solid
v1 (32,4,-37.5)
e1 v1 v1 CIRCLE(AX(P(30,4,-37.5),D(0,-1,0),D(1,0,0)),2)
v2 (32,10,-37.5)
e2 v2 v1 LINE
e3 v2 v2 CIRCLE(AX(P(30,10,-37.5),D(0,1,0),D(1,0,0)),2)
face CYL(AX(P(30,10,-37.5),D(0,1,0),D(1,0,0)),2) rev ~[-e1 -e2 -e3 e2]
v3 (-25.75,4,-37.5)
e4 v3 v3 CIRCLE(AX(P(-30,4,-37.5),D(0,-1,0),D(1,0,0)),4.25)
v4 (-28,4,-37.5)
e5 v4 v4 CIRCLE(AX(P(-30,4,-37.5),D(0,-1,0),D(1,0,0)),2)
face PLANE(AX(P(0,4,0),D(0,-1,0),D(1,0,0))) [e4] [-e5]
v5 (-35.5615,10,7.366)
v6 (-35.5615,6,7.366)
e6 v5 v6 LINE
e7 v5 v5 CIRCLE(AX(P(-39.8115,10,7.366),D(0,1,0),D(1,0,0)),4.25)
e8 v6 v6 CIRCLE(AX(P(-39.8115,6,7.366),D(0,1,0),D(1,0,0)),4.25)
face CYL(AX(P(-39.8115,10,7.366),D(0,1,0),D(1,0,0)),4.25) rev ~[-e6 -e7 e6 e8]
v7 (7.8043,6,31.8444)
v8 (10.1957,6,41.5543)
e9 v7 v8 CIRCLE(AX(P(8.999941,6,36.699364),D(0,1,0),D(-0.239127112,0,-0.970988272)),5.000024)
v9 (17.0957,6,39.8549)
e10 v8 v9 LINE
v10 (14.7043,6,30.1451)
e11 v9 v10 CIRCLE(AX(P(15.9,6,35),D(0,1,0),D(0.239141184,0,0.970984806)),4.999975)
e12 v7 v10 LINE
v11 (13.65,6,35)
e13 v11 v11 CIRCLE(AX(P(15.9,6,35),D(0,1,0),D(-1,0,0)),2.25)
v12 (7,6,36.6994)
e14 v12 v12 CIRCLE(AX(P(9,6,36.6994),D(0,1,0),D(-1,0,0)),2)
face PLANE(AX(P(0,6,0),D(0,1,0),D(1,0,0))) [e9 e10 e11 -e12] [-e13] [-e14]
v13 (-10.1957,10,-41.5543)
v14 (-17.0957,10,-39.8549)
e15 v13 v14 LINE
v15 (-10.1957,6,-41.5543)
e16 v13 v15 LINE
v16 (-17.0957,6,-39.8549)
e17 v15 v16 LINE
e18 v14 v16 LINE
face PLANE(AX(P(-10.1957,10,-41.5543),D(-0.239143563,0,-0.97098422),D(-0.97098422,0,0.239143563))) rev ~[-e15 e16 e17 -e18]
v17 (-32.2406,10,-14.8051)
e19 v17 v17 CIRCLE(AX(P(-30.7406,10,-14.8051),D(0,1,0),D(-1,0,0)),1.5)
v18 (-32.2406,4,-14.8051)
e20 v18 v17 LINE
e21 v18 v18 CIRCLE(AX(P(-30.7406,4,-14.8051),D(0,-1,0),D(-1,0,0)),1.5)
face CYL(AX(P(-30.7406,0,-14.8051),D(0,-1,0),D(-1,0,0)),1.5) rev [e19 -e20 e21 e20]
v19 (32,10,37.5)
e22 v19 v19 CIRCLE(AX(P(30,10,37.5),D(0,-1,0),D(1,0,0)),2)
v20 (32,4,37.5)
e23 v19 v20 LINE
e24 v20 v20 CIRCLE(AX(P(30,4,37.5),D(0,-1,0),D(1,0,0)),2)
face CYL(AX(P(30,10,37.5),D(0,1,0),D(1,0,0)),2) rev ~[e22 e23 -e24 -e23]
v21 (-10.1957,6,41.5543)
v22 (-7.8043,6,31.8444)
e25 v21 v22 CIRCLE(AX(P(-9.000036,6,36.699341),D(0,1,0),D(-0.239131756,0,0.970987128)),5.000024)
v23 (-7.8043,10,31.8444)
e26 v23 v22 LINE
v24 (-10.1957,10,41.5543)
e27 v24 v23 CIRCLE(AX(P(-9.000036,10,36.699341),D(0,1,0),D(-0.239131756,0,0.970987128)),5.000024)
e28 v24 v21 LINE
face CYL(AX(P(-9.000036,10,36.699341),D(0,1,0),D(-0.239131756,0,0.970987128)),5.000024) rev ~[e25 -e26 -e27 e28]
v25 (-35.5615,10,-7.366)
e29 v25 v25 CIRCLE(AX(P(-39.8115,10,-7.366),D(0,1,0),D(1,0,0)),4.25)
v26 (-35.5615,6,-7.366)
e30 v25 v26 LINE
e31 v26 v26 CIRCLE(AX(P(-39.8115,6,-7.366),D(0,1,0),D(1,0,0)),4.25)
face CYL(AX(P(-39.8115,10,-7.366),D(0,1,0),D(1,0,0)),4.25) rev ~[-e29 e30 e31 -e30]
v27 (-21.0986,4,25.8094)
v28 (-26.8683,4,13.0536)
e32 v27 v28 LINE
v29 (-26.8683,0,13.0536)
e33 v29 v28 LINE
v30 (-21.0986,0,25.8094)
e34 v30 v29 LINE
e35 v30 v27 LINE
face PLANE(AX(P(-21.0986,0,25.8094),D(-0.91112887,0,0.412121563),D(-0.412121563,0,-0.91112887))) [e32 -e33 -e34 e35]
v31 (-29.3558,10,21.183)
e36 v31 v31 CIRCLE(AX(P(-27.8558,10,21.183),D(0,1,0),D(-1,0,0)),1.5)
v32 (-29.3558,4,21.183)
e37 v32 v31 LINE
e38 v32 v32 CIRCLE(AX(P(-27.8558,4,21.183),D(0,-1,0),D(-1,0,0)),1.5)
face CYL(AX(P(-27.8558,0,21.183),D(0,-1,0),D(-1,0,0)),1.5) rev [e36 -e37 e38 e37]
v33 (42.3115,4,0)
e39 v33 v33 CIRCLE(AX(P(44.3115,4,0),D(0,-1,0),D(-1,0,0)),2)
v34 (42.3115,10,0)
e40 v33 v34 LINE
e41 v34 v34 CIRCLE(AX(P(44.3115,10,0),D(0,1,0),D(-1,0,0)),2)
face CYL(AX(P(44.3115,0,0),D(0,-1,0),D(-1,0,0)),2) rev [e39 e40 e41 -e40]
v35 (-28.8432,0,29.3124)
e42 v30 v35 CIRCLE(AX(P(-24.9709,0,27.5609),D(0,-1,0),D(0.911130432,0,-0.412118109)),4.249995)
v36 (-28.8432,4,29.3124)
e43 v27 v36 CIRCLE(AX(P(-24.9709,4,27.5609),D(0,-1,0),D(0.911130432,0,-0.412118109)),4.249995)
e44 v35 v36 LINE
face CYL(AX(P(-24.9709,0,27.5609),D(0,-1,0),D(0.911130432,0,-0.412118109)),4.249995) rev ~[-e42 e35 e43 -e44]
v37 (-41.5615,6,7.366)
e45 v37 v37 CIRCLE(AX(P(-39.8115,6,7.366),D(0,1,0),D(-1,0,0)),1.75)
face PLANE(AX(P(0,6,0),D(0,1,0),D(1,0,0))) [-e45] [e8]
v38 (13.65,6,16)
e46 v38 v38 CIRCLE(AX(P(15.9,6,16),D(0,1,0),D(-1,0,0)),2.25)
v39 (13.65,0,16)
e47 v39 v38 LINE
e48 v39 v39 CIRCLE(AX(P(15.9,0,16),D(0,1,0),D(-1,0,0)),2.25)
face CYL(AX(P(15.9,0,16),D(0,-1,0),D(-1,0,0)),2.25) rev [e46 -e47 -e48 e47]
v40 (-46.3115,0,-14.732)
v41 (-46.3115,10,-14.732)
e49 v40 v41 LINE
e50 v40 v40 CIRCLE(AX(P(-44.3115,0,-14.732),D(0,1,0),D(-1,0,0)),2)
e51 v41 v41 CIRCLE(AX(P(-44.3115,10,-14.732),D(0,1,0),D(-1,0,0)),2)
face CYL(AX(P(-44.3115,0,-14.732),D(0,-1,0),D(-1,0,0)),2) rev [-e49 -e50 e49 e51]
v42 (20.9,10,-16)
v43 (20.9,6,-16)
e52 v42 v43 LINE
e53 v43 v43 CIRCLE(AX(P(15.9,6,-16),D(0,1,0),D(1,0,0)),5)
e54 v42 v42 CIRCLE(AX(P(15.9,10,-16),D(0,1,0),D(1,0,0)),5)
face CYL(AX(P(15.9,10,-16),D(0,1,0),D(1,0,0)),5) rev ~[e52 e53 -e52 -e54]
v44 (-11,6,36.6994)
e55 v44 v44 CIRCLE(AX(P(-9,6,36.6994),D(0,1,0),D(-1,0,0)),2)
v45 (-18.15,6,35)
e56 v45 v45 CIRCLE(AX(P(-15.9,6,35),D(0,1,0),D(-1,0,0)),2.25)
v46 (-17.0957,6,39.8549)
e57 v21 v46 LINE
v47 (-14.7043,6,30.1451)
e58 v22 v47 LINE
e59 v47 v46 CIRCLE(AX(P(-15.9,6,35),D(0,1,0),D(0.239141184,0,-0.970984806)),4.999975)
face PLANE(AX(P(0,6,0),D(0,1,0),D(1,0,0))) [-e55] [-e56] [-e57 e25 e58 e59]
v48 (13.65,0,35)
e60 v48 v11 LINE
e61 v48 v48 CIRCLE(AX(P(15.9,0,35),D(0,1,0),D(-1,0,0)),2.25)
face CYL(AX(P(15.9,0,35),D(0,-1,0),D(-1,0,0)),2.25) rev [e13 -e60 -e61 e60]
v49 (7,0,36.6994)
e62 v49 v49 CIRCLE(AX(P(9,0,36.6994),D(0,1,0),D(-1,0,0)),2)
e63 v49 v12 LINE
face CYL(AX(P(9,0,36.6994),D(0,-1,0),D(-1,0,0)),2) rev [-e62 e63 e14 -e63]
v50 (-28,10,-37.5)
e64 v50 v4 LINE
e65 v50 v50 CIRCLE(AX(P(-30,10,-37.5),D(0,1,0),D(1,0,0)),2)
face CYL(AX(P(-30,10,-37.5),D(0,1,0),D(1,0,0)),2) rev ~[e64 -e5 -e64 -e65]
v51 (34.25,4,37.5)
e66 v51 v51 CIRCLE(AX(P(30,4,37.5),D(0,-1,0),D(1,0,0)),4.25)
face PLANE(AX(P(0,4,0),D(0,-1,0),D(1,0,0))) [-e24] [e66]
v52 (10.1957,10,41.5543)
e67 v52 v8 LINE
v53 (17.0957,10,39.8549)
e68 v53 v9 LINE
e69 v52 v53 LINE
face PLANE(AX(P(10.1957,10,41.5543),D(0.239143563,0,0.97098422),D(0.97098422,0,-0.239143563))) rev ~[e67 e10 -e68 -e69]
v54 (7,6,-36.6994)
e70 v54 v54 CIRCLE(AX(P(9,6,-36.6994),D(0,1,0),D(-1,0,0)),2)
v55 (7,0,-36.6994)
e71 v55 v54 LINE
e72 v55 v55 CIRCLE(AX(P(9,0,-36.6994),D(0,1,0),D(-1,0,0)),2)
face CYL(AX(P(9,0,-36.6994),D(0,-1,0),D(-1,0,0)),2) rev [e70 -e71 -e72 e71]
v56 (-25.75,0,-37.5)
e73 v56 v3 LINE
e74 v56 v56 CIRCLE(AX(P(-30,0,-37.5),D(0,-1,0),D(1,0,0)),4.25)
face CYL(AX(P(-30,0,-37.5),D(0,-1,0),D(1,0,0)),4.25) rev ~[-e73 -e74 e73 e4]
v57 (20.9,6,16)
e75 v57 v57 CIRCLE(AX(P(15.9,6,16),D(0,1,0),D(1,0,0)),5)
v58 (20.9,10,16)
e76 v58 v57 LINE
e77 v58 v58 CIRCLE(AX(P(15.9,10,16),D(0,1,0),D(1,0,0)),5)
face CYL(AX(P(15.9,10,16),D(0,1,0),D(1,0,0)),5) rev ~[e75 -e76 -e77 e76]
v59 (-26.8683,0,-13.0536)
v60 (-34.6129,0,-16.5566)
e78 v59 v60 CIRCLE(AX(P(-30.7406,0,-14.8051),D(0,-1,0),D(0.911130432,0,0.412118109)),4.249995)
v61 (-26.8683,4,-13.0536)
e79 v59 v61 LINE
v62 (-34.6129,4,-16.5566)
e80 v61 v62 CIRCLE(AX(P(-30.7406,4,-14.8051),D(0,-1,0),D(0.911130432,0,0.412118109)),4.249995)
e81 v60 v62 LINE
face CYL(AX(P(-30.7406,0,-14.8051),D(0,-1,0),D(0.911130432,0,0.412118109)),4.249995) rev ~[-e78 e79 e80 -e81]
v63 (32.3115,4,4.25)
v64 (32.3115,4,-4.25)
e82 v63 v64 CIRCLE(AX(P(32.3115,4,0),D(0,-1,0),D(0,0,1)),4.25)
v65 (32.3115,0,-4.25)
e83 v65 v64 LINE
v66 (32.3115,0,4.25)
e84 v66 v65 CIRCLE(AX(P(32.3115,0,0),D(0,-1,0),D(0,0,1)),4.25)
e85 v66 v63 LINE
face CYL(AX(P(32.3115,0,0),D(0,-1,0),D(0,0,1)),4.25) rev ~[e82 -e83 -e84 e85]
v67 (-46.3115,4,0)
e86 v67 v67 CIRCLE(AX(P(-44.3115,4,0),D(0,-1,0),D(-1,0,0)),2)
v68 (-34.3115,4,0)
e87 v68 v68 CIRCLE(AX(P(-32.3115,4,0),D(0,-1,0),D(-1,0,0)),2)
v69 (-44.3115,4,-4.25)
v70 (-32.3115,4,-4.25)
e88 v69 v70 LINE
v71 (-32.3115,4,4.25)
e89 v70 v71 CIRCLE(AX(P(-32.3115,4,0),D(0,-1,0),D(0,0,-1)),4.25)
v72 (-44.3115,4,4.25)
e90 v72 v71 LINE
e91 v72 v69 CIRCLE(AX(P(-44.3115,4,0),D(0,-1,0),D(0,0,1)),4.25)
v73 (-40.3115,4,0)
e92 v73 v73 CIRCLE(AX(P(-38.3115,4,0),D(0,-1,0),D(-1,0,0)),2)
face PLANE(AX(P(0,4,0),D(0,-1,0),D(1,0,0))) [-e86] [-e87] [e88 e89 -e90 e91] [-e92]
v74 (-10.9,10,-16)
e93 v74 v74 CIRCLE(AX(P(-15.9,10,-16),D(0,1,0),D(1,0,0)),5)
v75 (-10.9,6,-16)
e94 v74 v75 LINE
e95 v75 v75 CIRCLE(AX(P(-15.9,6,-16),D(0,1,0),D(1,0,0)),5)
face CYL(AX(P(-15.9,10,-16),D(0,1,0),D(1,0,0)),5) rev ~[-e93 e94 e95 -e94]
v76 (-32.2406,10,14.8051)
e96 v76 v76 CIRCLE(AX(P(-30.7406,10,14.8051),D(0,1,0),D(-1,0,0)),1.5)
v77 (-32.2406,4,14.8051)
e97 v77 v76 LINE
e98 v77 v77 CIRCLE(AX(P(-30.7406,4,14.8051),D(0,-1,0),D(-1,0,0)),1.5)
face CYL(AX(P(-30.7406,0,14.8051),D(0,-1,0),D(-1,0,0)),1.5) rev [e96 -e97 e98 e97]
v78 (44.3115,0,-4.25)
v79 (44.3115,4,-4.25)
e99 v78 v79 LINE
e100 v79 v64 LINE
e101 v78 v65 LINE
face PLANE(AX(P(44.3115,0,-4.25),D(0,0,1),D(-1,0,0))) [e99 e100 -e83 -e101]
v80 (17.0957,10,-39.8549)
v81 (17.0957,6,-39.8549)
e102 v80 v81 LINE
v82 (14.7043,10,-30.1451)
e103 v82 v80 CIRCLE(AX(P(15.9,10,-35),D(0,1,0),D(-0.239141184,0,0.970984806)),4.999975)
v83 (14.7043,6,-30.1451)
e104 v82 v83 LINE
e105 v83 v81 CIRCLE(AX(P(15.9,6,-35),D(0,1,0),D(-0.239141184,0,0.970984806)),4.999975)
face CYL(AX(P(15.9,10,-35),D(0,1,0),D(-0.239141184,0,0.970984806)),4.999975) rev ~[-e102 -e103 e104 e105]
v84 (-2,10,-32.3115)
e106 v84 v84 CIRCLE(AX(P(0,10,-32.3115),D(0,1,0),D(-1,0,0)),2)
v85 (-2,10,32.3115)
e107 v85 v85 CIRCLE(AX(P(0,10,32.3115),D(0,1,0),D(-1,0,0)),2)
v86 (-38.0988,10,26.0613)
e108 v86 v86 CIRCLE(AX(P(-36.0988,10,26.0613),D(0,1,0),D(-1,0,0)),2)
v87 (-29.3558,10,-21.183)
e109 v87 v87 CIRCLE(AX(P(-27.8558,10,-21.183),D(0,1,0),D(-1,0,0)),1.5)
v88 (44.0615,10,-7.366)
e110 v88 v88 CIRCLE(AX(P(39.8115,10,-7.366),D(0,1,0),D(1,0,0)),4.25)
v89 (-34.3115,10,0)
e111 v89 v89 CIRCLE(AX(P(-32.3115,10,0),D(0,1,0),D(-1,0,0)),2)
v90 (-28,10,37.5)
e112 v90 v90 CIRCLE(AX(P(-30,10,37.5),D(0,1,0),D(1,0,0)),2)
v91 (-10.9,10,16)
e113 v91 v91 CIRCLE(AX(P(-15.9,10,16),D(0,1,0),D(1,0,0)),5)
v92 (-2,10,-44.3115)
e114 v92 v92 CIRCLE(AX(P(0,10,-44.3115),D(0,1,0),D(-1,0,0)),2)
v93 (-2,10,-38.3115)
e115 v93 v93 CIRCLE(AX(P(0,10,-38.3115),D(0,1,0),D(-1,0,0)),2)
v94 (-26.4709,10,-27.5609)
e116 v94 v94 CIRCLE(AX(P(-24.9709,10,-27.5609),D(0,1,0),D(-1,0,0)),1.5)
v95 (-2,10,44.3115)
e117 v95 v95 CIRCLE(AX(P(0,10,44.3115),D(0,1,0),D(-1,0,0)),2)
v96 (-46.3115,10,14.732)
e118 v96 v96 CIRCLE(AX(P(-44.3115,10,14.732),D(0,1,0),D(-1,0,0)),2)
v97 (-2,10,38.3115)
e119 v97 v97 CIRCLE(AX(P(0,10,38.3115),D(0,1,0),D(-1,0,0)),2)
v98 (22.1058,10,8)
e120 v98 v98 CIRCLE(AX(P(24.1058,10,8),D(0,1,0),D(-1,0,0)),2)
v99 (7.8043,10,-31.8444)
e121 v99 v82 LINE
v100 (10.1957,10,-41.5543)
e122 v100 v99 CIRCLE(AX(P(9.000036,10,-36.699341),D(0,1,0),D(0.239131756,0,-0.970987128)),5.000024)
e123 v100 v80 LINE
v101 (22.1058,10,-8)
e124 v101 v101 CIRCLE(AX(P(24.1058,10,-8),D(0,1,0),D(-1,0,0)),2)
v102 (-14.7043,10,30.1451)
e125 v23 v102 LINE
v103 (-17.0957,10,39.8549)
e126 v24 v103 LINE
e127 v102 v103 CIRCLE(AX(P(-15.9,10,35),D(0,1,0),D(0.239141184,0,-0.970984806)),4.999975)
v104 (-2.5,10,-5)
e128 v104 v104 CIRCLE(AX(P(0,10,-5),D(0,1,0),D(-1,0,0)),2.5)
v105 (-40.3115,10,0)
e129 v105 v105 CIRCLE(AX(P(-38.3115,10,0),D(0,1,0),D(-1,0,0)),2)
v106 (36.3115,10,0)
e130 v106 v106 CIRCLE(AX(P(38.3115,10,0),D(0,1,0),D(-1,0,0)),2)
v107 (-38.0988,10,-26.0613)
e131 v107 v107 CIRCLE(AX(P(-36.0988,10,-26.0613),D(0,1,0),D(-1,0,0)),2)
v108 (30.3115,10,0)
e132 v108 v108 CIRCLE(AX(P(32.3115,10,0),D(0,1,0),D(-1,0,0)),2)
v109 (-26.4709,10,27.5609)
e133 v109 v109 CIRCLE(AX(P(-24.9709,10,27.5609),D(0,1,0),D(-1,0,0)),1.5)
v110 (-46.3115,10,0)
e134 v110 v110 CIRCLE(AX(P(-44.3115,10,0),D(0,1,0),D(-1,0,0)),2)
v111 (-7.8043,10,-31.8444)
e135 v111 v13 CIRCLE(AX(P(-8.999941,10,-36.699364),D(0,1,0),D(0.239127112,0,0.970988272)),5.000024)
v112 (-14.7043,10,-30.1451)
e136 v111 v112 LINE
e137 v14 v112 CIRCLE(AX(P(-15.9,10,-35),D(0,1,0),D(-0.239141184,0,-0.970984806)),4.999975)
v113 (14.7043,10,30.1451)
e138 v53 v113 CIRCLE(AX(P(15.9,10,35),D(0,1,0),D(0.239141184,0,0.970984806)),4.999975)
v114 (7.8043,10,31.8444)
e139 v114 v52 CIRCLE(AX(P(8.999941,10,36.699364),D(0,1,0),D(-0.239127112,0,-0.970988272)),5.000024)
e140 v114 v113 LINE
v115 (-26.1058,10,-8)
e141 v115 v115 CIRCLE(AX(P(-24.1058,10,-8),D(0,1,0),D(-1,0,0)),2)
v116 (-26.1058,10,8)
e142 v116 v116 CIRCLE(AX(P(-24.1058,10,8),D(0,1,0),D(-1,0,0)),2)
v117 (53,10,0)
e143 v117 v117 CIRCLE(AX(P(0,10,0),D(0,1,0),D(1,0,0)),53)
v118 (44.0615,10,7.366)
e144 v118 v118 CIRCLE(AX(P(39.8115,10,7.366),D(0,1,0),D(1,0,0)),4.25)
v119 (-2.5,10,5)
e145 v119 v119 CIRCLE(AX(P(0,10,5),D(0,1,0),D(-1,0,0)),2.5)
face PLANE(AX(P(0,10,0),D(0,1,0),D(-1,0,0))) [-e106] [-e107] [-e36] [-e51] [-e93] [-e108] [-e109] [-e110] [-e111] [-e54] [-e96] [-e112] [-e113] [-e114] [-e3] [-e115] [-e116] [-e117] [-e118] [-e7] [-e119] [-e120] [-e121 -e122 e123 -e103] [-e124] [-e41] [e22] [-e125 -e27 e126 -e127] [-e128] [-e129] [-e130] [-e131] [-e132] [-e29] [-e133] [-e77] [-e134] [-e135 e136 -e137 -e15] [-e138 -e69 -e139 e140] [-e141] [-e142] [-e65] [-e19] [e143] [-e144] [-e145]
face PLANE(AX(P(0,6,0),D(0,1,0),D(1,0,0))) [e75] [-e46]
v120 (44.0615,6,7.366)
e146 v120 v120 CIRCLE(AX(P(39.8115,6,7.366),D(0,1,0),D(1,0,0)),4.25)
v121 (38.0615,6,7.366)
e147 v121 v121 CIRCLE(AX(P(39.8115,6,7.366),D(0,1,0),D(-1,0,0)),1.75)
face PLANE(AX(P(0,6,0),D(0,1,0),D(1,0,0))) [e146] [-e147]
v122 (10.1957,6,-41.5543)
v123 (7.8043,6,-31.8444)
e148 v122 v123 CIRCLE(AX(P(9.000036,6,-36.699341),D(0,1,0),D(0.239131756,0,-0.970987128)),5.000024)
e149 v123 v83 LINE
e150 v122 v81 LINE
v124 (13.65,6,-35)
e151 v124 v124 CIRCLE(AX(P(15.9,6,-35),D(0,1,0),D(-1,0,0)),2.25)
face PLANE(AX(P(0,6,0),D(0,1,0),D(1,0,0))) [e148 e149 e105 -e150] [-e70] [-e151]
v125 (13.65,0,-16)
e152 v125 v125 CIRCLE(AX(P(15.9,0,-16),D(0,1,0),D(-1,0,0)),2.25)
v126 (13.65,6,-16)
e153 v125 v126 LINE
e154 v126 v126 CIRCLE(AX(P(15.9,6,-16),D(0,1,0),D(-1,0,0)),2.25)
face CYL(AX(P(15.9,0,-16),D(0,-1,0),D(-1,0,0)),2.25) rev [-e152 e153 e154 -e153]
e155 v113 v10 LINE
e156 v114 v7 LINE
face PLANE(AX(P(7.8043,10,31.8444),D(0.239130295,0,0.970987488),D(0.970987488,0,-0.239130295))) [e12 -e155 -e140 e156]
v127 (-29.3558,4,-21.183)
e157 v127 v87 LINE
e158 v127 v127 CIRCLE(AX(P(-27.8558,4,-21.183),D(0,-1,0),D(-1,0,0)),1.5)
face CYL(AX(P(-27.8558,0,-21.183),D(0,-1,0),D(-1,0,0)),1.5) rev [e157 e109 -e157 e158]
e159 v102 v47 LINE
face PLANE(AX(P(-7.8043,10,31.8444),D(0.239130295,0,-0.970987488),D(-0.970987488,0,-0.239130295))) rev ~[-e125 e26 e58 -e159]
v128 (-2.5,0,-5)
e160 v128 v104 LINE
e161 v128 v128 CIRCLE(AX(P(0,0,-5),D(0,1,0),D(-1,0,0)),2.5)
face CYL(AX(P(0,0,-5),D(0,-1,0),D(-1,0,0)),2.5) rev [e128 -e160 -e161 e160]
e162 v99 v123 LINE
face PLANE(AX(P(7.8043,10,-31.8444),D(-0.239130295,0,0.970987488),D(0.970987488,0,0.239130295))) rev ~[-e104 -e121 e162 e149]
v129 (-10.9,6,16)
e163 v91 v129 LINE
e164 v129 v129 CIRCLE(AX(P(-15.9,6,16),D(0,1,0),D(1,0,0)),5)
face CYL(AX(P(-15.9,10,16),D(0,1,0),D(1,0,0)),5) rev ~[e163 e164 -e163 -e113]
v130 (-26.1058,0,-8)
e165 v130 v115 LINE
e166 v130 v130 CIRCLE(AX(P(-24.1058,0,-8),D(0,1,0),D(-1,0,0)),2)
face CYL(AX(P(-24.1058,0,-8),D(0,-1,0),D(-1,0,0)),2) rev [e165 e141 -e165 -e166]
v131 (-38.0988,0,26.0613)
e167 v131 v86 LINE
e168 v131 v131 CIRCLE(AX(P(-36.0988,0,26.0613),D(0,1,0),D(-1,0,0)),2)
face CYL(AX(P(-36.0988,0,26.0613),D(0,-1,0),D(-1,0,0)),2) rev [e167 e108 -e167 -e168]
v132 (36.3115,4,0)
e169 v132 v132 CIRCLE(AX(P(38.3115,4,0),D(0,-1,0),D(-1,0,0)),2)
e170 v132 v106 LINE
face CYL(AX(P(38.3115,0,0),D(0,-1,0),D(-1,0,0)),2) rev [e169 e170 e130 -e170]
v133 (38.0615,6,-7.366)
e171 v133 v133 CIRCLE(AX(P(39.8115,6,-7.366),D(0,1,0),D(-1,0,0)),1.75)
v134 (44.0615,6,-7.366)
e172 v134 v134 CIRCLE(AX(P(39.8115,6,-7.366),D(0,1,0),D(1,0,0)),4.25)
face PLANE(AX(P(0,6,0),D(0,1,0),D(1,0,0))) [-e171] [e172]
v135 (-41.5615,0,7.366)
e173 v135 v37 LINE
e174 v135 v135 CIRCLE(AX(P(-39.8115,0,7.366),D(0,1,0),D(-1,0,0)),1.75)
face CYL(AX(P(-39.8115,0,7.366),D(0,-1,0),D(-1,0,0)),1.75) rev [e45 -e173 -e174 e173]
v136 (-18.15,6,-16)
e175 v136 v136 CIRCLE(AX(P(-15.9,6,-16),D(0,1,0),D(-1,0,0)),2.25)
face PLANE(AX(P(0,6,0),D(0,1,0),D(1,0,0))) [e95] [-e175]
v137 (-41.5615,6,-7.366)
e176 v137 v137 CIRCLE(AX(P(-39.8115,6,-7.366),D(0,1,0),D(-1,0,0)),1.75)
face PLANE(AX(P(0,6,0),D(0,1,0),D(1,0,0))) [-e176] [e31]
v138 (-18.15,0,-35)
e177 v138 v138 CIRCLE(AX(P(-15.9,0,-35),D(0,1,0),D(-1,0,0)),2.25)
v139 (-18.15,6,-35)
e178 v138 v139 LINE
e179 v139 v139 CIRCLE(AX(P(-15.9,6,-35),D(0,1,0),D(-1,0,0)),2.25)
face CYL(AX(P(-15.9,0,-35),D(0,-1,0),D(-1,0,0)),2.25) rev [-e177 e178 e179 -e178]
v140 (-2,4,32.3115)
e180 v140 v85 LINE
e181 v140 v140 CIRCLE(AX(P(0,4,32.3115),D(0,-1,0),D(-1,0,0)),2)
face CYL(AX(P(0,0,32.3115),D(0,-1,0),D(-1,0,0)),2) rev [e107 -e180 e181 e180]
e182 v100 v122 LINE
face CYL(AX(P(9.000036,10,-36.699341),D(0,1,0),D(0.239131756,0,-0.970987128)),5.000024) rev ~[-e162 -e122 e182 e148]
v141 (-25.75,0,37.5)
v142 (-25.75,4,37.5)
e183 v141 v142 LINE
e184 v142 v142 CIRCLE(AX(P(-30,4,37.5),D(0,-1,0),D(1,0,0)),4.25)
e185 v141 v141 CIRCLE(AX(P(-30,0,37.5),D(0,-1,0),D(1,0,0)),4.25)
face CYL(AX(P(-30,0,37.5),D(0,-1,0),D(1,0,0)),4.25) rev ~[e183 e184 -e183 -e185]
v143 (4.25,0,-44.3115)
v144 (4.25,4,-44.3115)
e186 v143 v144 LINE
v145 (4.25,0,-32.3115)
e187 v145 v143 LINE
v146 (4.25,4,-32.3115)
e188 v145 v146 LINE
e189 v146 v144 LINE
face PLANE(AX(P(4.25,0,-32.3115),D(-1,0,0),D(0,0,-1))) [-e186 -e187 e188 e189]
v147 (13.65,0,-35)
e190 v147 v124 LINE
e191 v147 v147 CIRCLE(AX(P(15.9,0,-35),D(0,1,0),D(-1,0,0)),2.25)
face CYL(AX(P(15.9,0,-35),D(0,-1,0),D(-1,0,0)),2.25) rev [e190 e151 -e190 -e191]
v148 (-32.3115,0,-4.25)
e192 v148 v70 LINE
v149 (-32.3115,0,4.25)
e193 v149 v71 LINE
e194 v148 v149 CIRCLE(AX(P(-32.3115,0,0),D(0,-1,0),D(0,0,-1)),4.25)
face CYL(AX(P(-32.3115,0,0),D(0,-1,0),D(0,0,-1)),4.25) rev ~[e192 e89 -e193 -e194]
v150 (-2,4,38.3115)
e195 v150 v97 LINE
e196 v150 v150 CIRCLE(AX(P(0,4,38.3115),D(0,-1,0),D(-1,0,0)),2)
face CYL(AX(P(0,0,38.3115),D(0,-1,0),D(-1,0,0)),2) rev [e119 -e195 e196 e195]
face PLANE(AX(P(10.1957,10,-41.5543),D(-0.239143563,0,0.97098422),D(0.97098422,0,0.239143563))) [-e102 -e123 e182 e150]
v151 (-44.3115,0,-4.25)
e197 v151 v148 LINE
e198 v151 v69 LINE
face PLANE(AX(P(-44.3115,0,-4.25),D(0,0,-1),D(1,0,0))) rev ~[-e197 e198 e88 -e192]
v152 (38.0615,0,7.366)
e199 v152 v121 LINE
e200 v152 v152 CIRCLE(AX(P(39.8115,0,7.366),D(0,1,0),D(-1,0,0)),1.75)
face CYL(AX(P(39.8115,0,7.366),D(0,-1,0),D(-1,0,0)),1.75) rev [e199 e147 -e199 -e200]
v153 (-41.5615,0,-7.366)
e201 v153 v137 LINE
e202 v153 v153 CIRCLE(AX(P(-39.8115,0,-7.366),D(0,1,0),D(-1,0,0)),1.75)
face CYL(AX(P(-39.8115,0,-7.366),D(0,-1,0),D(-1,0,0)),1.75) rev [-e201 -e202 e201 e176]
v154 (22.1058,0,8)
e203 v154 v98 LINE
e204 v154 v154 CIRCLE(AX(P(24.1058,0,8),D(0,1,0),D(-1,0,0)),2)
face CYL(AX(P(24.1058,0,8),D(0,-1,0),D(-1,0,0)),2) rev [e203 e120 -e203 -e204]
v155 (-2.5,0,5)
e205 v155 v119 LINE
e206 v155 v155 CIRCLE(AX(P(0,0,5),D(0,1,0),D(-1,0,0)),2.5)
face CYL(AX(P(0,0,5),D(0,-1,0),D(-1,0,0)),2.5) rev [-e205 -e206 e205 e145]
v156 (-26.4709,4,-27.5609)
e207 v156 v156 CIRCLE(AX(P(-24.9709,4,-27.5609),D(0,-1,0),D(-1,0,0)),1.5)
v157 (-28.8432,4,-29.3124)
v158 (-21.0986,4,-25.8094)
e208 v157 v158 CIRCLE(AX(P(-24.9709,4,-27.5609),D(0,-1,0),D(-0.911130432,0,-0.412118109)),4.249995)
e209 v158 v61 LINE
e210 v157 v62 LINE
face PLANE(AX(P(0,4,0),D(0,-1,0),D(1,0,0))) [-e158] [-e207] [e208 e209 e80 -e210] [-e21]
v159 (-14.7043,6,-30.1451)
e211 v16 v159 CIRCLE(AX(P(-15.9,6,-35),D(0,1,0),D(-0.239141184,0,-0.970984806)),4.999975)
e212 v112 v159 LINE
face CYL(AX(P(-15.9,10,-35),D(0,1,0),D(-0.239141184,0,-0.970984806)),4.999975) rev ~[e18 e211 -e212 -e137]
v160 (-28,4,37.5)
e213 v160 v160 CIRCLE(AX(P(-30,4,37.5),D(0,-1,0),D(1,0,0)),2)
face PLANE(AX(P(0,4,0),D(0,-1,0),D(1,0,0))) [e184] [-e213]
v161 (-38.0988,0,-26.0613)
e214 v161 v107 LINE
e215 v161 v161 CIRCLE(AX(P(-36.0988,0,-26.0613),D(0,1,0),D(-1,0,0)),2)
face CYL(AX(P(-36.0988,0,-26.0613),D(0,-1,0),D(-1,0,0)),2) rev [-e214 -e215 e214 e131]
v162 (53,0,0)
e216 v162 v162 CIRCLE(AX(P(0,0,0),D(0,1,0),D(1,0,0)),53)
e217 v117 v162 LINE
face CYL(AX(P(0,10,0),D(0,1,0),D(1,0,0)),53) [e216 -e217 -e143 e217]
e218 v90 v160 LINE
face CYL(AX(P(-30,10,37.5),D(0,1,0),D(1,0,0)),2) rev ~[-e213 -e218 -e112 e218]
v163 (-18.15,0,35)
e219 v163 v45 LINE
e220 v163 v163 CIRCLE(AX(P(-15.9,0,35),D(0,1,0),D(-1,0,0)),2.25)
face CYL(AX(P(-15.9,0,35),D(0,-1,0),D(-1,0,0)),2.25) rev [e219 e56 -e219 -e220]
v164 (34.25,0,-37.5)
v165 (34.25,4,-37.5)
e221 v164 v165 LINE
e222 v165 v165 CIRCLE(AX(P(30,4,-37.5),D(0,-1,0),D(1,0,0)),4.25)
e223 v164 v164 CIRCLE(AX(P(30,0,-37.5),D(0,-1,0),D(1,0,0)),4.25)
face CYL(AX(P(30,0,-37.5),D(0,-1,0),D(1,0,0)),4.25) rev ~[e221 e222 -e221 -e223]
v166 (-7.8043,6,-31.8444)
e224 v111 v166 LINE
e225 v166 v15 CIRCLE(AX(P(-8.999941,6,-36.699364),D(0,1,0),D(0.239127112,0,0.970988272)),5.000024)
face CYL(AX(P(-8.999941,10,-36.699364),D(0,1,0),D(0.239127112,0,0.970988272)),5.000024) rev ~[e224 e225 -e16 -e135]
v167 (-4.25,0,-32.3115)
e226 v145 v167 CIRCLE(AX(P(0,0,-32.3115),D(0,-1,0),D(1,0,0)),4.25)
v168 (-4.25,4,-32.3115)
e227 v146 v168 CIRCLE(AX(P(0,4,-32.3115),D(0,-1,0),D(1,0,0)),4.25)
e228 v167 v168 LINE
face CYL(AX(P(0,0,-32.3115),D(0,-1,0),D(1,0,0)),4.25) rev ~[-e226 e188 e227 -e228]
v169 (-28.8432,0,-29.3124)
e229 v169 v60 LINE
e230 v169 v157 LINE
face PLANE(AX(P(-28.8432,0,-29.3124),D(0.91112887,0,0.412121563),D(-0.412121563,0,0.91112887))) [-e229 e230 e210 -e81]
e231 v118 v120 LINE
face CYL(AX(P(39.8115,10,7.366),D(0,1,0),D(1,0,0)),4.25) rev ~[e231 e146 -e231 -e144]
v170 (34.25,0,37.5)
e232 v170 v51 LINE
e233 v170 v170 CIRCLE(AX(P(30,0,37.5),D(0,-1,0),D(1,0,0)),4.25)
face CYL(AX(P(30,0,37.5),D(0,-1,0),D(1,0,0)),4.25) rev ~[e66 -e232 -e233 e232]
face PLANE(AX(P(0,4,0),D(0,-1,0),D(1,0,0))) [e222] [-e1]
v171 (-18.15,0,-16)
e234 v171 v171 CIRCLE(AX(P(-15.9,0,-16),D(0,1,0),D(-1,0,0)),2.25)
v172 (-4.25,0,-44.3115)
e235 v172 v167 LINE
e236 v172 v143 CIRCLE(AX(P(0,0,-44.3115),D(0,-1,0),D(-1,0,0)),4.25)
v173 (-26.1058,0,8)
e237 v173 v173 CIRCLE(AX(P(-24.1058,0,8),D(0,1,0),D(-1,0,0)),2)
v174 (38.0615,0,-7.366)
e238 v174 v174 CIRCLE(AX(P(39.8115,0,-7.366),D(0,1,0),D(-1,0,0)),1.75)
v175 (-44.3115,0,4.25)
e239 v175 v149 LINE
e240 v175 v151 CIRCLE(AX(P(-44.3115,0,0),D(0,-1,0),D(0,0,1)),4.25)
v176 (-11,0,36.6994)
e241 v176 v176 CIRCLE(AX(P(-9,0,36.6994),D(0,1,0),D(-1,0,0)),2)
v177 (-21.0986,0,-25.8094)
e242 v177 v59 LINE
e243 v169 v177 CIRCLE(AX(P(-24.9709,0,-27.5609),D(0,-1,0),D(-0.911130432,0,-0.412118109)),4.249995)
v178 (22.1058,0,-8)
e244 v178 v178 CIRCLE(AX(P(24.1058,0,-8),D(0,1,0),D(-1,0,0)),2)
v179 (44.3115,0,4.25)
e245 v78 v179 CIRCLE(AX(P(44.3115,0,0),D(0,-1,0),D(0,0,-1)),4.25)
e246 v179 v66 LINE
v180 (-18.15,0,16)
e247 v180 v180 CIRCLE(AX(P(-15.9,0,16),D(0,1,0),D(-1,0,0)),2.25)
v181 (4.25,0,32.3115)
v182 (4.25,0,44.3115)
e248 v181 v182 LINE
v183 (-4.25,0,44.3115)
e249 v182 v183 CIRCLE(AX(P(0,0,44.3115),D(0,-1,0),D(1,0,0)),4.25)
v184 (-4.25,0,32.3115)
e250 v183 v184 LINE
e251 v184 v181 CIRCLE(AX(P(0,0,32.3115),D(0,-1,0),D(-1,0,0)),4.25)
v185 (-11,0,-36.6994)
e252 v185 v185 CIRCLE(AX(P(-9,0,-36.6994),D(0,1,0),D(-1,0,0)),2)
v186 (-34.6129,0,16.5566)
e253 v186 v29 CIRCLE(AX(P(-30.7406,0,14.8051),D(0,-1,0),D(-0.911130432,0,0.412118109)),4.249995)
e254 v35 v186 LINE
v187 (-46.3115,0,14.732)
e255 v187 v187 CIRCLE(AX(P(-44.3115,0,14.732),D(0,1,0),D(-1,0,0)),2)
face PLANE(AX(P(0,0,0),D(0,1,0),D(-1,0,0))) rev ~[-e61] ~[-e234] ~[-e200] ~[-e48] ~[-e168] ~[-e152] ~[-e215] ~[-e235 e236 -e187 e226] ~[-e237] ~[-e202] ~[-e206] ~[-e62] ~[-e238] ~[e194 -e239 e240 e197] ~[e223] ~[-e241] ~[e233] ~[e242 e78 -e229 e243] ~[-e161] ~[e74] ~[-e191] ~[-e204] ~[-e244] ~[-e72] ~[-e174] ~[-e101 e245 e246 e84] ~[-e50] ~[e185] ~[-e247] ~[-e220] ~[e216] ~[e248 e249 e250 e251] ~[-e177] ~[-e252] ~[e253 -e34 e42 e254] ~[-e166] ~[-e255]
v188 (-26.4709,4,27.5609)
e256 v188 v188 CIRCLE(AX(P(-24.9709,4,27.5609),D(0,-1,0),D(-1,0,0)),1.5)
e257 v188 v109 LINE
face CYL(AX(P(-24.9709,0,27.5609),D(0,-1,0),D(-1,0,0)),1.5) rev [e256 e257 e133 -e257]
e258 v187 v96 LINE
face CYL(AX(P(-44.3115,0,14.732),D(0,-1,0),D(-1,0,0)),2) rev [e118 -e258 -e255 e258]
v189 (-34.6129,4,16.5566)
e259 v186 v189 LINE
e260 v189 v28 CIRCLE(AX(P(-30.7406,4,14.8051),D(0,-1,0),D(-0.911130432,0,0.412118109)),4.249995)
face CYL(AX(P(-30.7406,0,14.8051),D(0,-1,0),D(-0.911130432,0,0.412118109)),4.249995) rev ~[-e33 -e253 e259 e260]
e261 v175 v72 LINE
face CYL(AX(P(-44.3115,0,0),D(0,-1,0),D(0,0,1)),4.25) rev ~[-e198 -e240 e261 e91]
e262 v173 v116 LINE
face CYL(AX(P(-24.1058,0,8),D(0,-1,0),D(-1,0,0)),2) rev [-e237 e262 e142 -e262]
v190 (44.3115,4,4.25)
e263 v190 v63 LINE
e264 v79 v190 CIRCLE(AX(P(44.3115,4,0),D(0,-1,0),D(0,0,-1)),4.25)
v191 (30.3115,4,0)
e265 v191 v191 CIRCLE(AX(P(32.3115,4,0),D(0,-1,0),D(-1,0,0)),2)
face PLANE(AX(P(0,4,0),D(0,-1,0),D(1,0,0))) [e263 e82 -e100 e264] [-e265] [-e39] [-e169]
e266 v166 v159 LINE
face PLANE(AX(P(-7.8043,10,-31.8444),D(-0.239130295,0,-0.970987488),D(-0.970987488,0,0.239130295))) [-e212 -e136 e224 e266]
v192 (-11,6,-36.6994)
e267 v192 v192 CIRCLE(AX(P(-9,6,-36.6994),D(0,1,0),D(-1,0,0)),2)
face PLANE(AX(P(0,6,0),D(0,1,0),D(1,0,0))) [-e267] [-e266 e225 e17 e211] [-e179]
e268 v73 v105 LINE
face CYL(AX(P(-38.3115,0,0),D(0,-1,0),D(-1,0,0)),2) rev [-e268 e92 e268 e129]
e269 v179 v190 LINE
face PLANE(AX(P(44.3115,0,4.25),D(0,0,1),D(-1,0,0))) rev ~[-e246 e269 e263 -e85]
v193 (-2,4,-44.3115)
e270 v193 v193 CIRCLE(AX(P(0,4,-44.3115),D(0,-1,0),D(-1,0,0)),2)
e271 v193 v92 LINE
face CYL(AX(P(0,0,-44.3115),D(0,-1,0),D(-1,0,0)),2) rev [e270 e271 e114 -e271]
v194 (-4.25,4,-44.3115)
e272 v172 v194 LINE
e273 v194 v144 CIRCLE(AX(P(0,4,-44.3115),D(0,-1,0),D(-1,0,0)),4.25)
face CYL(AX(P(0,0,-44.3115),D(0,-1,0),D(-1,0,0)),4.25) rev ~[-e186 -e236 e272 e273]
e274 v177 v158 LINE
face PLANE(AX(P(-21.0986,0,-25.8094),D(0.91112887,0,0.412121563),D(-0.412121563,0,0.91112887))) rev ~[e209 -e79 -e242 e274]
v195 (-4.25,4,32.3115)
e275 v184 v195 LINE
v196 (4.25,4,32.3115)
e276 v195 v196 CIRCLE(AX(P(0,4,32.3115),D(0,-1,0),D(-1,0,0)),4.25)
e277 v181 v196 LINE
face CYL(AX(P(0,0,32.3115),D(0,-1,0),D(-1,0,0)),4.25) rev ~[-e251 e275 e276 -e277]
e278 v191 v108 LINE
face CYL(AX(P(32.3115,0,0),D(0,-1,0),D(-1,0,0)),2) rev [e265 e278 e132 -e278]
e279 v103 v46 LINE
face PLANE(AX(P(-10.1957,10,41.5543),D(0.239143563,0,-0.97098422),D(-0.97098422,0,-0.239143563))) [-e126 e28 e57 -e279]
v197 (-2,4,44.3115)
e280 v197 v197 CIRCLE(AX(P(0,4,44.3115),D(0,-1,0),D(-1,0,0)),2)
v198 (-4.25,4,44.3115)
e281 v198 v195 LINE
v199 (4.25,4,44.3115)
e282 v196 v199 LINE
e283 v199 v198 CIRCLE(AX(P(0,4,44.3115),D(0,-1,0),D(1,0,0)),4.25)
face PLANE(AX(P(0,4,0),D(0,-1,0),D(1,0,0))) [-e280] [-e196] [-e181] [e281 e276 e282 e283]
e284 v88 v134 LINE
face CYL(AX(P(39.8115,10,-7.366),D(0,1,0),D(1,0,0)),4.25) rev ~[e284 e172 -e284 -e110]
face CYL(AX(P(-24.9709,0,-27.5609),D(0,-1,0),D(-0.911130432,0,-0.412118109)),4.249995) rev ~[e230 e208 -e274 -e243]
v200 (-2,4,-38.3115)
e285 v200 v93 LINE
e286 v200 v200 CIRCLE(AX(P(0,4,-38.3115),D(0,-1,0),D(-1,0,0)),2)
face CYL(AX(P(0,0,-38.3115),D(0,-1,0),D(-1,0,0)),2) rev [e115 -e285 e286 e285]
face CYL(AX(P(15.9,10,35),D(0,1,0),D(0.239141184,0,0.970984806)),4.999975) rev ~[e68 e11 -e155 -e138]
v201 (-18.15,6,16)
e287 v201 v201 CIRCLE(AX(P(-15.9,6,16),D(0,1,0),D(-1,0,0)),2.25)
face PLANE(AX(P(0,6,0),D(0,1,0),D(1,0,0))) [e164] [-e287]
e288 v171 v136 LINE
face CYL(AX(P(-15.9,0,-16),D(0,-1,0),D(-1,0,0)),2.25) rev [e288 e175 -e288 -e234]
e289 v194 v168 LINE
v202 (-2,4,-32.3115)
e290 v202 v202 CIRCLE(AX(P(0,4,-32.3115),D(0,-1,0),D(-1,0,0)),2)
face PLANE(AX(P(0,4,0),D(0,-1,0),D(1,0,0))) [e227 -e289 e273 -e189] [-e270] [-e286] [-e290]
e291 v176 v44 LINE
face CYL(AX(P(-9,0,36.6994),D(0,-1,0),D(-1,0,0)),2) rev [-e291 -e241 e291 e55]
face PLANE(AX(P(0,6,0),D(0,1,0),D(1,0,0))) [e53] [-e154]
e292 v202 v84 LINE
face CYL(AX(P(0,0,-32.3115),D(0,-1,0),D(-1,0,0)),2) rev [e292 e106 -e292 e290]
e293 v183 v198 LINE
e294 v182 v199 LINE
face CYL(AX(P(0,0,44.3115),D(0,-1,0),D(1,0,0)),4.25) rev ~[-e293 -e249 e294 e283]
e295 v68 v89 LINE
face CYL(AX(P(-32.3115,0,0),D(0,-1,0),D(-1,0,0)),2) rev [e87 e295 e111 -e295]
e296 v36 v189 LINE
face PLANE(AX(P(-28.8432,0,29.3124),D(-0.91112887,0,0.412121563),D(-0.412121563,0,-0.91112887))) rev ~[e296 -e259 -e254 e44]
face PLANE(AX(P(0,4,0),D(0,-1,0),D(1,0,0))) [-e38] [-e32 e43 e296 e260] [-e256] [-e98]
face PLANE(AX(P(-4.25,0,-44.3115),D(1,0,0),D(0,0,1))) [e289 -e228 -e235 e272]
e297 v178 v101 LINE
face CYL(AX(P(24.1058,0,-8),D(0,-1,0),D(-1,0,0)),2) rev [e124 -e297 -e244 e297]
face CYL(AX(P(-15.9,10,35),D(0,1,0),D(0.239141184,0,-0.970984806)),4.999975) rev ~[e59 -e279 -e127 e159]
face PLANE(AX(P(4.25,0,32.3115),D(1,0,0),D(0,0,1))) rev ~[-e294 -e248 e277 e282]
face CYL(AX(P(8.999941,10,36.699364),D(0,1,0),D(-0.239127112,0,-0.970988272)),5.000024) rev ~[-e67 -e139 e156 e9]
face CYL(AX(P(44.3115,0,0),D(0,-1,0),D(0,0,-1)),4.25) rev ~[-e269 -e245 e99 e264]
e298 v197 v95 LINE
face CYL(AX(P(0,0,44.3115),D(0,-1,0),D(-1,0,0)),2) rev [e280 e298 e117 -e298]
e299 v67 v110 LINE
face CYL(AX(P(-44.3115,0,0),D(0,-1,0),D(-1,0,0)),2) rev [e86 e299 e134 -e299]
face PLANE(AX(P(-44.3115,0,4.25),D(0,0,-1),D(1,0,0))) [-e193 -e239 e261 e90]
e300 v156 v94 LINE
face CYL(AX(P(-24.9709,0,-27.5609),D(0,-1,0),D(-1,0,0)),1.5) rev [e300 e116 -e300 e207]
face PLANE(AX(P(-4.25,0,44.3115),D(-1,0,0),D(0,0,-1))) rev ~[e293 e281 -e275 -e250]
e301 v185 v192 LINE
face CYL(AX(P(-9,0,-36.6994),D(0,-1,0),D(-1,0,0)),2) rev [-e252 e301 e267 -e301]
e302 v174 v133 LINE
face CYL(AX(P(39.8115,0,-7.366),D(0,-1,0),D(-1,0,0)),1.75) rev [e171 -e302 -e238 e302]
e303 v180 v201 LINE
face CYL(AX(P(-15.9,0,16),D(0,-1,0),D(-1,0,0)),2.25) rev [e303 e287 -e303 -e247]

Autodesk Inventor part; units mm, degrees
ref_plane "YZ Plane" through (0, 0, 0) normal (1, 0, 0) x (0, 1, 0)
ref_plane "XZ Plane" through (0, 0, 0) normal (0, 1, 0) x (-1, 0, 0)
ref_plane "XY Plane" through (0, 0, 0) normal (0, 0, 1) x (1, 0, 0)
sketch "Sketch1" plane through (0, 0, 0) normal (0, 1, 0) x (-1, 0, 0)
  circle A0 centre (15.9, 35) radius 2.25
  circle A1 centre (-15.9, 35) radius 2.25
  circle A2 centre (15.9, 16) radius 2.25
  circle A3 centre (-15.9, 16) radius 2.25
  circle A4 centre (0, 0) radius 50.3115
  circle A5 centre (15.9, -35) radius 2.25
  circle A6 centre (-15.9, -35) radius 2.25
  circle A7 centre (15.9, -16) radius 2.25
  circle A8 centre (-15.9, -16) radius 2.25
  circle A9 centre (9, 36.6994) radius 2
  circle A10 centre (-9, 36.6994) radius 2
  circle A11 centre (9, -36.6994) radius 2
  circle A12 centre (-9, -36.6994) radius 2
  circle A13 centre (39.8115, 7.366) radius 1.75
  circle A14 centre (39.8115, -7.366) radius 1.75
  circle A15 centre (-39.8115, 7.366) radius 1.75
  circle A16 centre (-39.8115, -7.366) radius 1.75
  circle A17 centre (27.8558, 21.183) radius 1.5
  circle A18 centre (30.7406, 14.8051) radius 1.5
  circle A19 centre (24.9709, 27.5609) radius 1.5
  circle A20 centre (27.8558, -21.183) radius 1.5
  circle A21 centre (30.7406, -14.8051) radius 1.5
  circle A22 centre (24.9709, -27.5609) radius 1.5
  circle A23 centre (0, 32.3115) radius 2
  circle A24 centre (0, 38.3115) radius 2
  circle A25 centre (0, 44.3115) radius 2
  circle A26 centre (-32.3115, 0) radius 2
  circle A27 centre (-38.3115, 0) radius 2
  circle A28 centre (-44.3115, 0) radius 2
  circle A29 centre (0, -32.3115) radius 2
  circle A30 centre (0, -38.3115) radius 2
  circle A31 centre (0, -44.3115) radius 2
  circle A32 centre (32.3115, 0) radius 2
  circle A33 centre (38.3115, 0) radius 2
  circle A34 centre (44.3115, 0) radius 2
  circle A35 centre (0, 5) radius 2.5
  circle A36 centre (0, -5) radius 2.5
  circle A37 centre (24.1058, 8) radius 2
  circle A38 centre (24.1058, -8) radius 2
  circle A39 centre (-24.1058, 8) radius 2
  circle A40 centre (-24.1058, -8) radius 2
  circle A41 centre (-27.8558, -21.183) radius 2
  circle A42 centre (27.886, -37.3906) radius 2
  line L0 (0, 0) -> (2.5, 0)
  circle A43 centre (27.886, 37.3906) radius 2
  circle A44 centre (44.3115, -14.732) radius 2
  circle A45 centre (44.3115, 14.732) radius 2
  line L1 (-27.8558, -21.183) -> (-36.9207, -29.0268)
  circle A46 centre (-21.8779, -28.0915) radius 2
  circle A47 centre (-33.8336, -14.2745) radius 2
  circle A48 centre (-27.9275, -33.3262) radius 2
  circle A49 centre (-33.9054, -26.4177) radius 2
  circle A50 centre (-39.8833, -19.5092) radius 2
  circle A51 centre (-27.8558, 21.183) radius 2
  circle A52 centre (-21.8779, 28.0915) radius 2
  circle A53 centre (-33.8336, 14.2745) radius 2
  circle A54 centre (-27.9275, 33.3262) radius 2
  circle A55 centre (-33.9054, 26.4177) radius 2
  circle A56 centre (-39.8833, 19.5092) radius 2
  circle A57 centre (36.0988, -26.0613) radius 2
  circle A58 centre (36.0988, 26.0613) radius 2
  point P0 (-36.9207, 29.0268)
  dimension "d47" = 360
  dimension "d64" = 8
  dimension "d69" = 4
  dimension "d70" = 4
extrude "Extrusion1" add sketch "Sketch1" along normal blind 10
sketch "Sketch2" plane through (0, 10, 0) normal (0, 1, 0) x (1, 0, 0)
  circle A0 centre (0, 5) radius 2.5
  circle A1 centre (0, -5) radius 2.5
  circle A2 centre (15.9, 16) radius 2.25
  circle A3 centre (-15.9, 16) radius 2.25
  circle A4 centre (15.9, 35) radius 2.25
  circle A5 centre (-15.9, 35) radius 2.25
  circle A6 centre (15.9, -16) radius 2.25
  circle A7 centre (-15.9, -16) radius 2.25
  circle A8 centre (15.9, -35) radius 2.25
  circle A9 centre (-36.0988, -26.0613) radius 2
  circle A10 centre (-36.0988, 26.0613) radius 2
  circle A11 centre (27.9275, -33.3262) radius 2
  circle A12 centre (39.8833, -19.5092) radius 2
  circle A13 centre (33.8336, -14.2745) radius 2
  circle A14 centre (27.8558, -21.183) radius 2
  circle A15 centre (33.9054, -26.4177) radius 2
  circle A16 centre (21.8779, -28.0915) radius 2
  circle A17 centre (39.8833, 19.5092) radius 2
  circle A18 centre (33.9054, 26.4177) radius 2
  circle A19 centre (27.9275, 33.3262) radius 2
  circle A20 centre (33.8336, 14.2745) radius 2
  circle A21 centre (21.8779, 28.0915) radius 2
  circle A22 centre (-44.3115, -14.732) radius 2
  circle A23 centre (-44.3115, 14.732) radius 2
  circle A24 centre (-27.886, -37.3906) radius 2
  circle A25 centre (-27.886, 37.3906) radius 2
  circle A26 centre (27.8558, 21.183) radius 2
  circle A27 centre (24.1058, 8) radius 2
  circle A28 centre (24.1058, -8) radius 2
  circle A29 centre (-24.1058, 8) radius 2
  circle A30 centre (-24.1058, -8) radius 2
  circle A31 centre (-44.3115, 0) radius 2
  circle A32 centre (-38.3115, 0) radius 2
  circle A33 centre (-32.3115, 0) radius 2
  circle A34 centre (0, 44.3115) radius 2
  circle A35 centre (0, 38.3115) radius 2
  circle A36 centre (0, 32.3115) radius 2
  circle A37 centre (44.3115, 0) radius 2
  circle A38 centre (38.3115, 0) radius 2
  circle A39 centre (32.3115, 0) radius 2
  circle A40 centre (0, -44.3115) radius 2
  circle A41 centre (0, -38.3115) radius 2
  circle A42 centre (0, -32.3115) radius 2
  circle A43 centre (-9, 36.6994) radius 2
  circle A44 centre (9, 36.6994) radius 2
  circle A45 centre (9, -36.6994) radius 2
  circle A46 centre (39.8115, 7.366) radius 1.75
  circle A47 centre (39.8115, -7.366) radius 1.75
  circle A48 centre (-39.8115, 7.366) radius 1.75
  circle A49 centre (-39.8115, -7.366) radius 1.75
  circle A50 centre (-30.7406, 14.8051) radius 1.5
  circle A51 centre (-27.8558, 21.183) radius 1.5
  circle A52 centre (-24.9709, 27.5609) radius 1.5
  circle A53 centre (-24.9709, -27.5609) radius 1.5
  circle A54 centre (-30.7406, -14.8051) radius 1.5
  circle A55 centre (-27.8558, -21.183) radius 1.5
  circle A56 centre (0, 0) radius 50.3115
  circle A57 centre (44.3115, 0) radius 2
  circle A58 centre (38.3115, 0) radius 2
  circle A59 centre (32.3115, 0) radius 2
  circle A60 centre (39.8115, 7.366) radius 1.75
  circle A61 centre (39.8115, -7.366) radius 1.75
  circle A62 centre (-15.9, -16) radius 5
  arc A63 (-14.7043, -30.1451) -> (-17.0957, -39.8549) centre (-15.9, -35) ccw
  arc A64 (-10.1957, -41.5543) -> (-7.8043, -31.8444) centre (-9, -36.6994) ccw
  line L0 (-10.1957, -41.5543) -> (-17.0957, -39.8549)
  circle A65 centre (-15.9, -35) radius 2.25
  circle A66 centre (-9, -36.6994) radius 2
  line L1 (-7.8043, -31.8444) -> (-14.7043, -30.1451)
  line L2 (0, 0) -> (0, -5)
  line L3 (0, 0) -> (-3.6207, 0)
  circle A67 centre (15.9, -16) radius 5
  arc A68 (17.0957, -39.8549) -> (14.7043, -30.1451) centre (15.9, -35) ccw
  arc A69 (7.8043, -31.8444) -> (10.1957, -41.5543) centre (9, -36.6994) ccw
  line L4 (10.1957, -41.5543) -> (17.0957, -39.8549)
  line L5 (7.8043, -31.8444) -> (14.7043, -30.1451)
  circle A70 centre (-15.9, 16) radius 5
  arc A71 (-17.0957, 39.8549) -> (-14.7043, 30.1451) centre (-15.9, 35) ccw
  arc A72 (-7.8043, 31.8444) -> (-10.1957, 41.5543) centre (-9, 36.6994) ccw
  line L6 (-10.1957, 41.5543) -> (-17.0957, 39.8549)
  line L7 (-7.8043, 31.8444) -> (-14.7043, 30.1451)
  arc A73 (14.7043, 30.1451) -> (17.0957, 39.8549) centre (15.9, 35) ccw
  line L8 (7.8043, 31.8444) -> (14.7043, 30.1451)
  arc A74 (10.1957, 41.5543) -> (7.8043, 31.8444) centre (9, 36.6994) ccw
  line L9 (10.1957, 41.5543) -> (17.0957, 39.8549)
  circle A75 centre (15.9, 16) radius 5
  circle A76 centre (-39.8115, 7.366) radius 4.25
  circle A77 centre (-39.8115, -7.366) radius 4.25
  circle A78 centre (39.8115, 7.366) radius 4.25
  circle A79 centre (39.8115, -7.366) radius 4.25
  dimension "d85" = 8.5
  dimension "d86" = 8.5
  dimension "d87" = 8.5
  dimension "d88" = 8.5
extrude "Extrusion2" cut sketch "Sketch2" against normal blind 4 contours A62 | L1 A64 L0 A63 | A67 | L4 A69 L5 A68 | A70 | L6 A72 L7 A71 | L8 A74 L9 A73 | A75 | A76 | A77 | A78 | A79
sketch "Sketch3" plane through (0, 0, 0) normal (0, -1, 0) x (1, 0, 0)
  circle A0 centre (0, -5) radius 2.5
  circle A1 centre (0, 5) radius 2.5
  circle A2 centre (15.9, -16) radius 2.25
  circle A3 centre (-15.9, -16) radius 2.25
  circle A4 centre (15.9, -35) radius 2.25
  circle A5 centre (-15.9, -35) radius 2.25
  circle A6 centre (15.9, 16) radius 2.25
  circle A7 centre (-15.9, 16) radius 2.25
  circle A8 centre (15.9, 35) radius 2.25
  circle A9 centre (-15.9, 35) radius 2.25
  circle A10 centre (-36.0988, 26.0613) radius 2
  circle A11 centre (-36.0988, -26.0613) radius 2
  circle A12 centre (27.9275, 33.3262) radius 2
  circle A13 centre (39.8833, 19.5092) radius 2
  circle A14 centre (33.8336, 14.2745) radius 2
  circle A15 centre (27.8558, 21.183) radius 2
  circle A16 centre (33.9054, 26.4177) radius 2
  circle A17 centre (21.8779, 28.0915) radius 2
  circle A18 centre (39.8833, -19.5092) radius 2
  circle A19 centre (33.9054, -26.4177) radius 2
  circle A20 centre (27.9275, -33.3262) radius 2
  circle A21 centre (33.8336, -14.2745) radius 2
  circle A22 centre (21.8779, -28.0915) radius 2
  circle A23 centre (-44.3115, 14.732) radius 2
  circle A24 centre (-44.3115, -14.732) radius 2
  circle A25 centre (-27.886, 37.3906) radius 2
  circle A26 centre (-27.886, -37.3906) radius 2
  circle A27 centre (27.8558, -21.183) radius 2
  circle A28 centre (24.1058, -8) radius 2
  circle A29 centre (24.1058, 8) radius 2
  circle A30 centre (-24.1058, -8) radius 2
  circle A31 centre (-24.1058, 8) radius 2
  circle A32 centre (-44.3115, 0) radius 2
  circle A33 centre (-38.3115, 0) radius 2
  circle A34 centre (-32.3115, 0) radius 2
  circle A35 centre (0, -44.3115) radius 2
  circle A36 centre (0, -38.3115) radius 2
  circle A37 centre (0, -32.3115) radius 2
  circle A38 centre (44.3115, 0) radius 2
  circle A39 centre (38.3115, 0) radius 2
  circle A40 centre (32.3115, 0) radius 2
  circle A41 centre (0, 44.3115) radius 2
  circle A42 centre (0, 38.3115) radius 2
  circle A43 centre (0, 32.3115) radius 2
  circle A44 centre (-9, -36.6994) radius 2
  circle A45 centre (9, -36.6994) radius 2
  circle A46 centre (9, 36.6994) radius 2
  circle A47 centre (-9, 36.6994) radius 2
  circle A48 centre (39.8115, -7.366) radius 1.75
  circle A49 centre (39.8115, 7.366) radius 1.75
  circle A50 centre (-39.8115, -7.366) radius 1.75
  circle A51 centre (-39.8115, 7.366) radius 1.75
  circle A52 centre (-30.7406, -14.8051) radius 1.5
  circle A53 centre (-27.8558, -21.183) radius 1.5
  circle A54 centre (-24.9709, -27.5609) radius 1.5
  circle A55 centre (-24.9709, 27.5609) radius 1.5
  circle A56 centre (-30.7406, 14.8051) radius 1.5
  circle A57 centre (-27.8558, 21.183) radius 1.5
  circle A58 centre (0, 0) radius 50.3115
  arc A59 (-34.6129, 16.5566) -> (-26.8683, 13.0536) centre (-30.7406, 14.8051) ccw
  arc A60 (-21.0986, 25.8094) -> (-28.8432, 29.3124) centre (-24.9709, 27.5609) ccw
  line L0 (-28.8432, 29.3124) -> (-34.6129, 16.5566)
  line L1 (-21.0986, 25.8094) -> (-26.8683, 13.0536)
  line L2 (0, 0) -> (-2, 0)
  arc A61 (-26.8683, -13.0536) -> (-34.6129, -16.5566) centre (-30.7406, -14.8051) ccw
  arc A62 (-28.8432, -29.3124) -> (-21.0986, -25.8094) centre (-24.9709, -27.5609) ccw
  line L3 (-28.8432, -29.3124) -> (-34.6129, -16.5566)
  line L4 (-21.0986, -25.8094) -> (-26.8683, -13.0536)
  arc A63 (-32.3115, -4.25) -> (-32.3115, 4.25) centre (-32.3115, 0) ccw
  line L5 (-44.3115, -4.25) -> (-32.3115, -4.25)
  line L6 (-44.3115, 4.25) -> (-32.3115, 4.25)
  arc A64 (-44.3115, 4.25) -> (-44.3115, -4.25) centre (-44.3115, 0) ccw
  line L7 (0, 0) -> (0, 0.9007)
  arc A65 (32.3115, 4.25) -> (32.3115, -4.25) centre (32.3115, 0) ccw
  line L8 (44.3115, -4.25) -> (32.3115, -4.25)
  line L9 (44.3115, 4.25) -> (32.3115, 4.25)
  arc A66 (44.3115, -4.25) -> (44.3115, 4.25) centre (44.3115, 0) ccw
  arc A67 (-4.25, -44.3115) -> (4.25, -44.3115) centre (0, -44.3115) ccw
  arc A68 (4.25, -32.3115) -> (-4.25, -32.3115) centre (0, -32.3115) ccw
  line L10 (-4.25, -44.3115) -> (-4.25, -32.3115)
  line L11 (4.25, -32.3115) -> (4.25, -44.3115)
  arc A69 (4.25, 44.3115) -> (-4.25, 44.3115) centre (0, 44.3115) ccw
  arc A70 (-4.25, 32.3115) -> (4.25, 32.3115) centre (0, 32.3115) ccw
  line L12 (-4.25, 44.3115) -> (-4.25, 32.3115)
  line L13 (4.25, 32.3115) -> (4.25, 44.3115)
extrude "Extrusion3" cut sketch "Sketch3" against normal blind 4 contours L0 A60 L1 A59 | L4 A62 L3 A61 | L5 A64 L6 A63 | L9 A66 L8 A65 | L10 A68 L11 A67 | L13 A70 L12 A69
sketch "Sketch4" plane through (0, 10, 0) normal (0, 1, 0) x (1, 0, 0)
  circle A0 centre (-27.886, -37.3906) radius 2 projected
  circle A1 centre (-27.886, 37.3906) radius 2 projected
  point P0 (0, 0)
extrude "Extrusion4" add sketch "Sketch4" against normal blind 10
sketch "Sketch5" plane through (0, 10, 0) normal (0, 1, 0) x (1, 0, 0)
  line L0 (0, 0) -> (-30, 0)
  line L1 (-30, 37.5) -> (0, 37.5)
  line L2 (0, 37.5) -> (0, 0)
  line L3 (30, -37.5) -> (-30, -37.5)
  circle A0 centre (-30, -37.5) radius 2
  circle A1 centre (-30, 37.5) radius 2
  circle A2 centre (30, -37.5) radius 2
  circle A3 centre (30, 37.5) radius 2
  dimension "d104" = 30
  dimension "d105" = 37.5
  dimension "d106" = 60
  dimension "d108" = 4
  dimension "d109" = 4
  dimension "d110" = 4
  dimension "d111" = 4
extrude "Extrusion5" cut sketch "Sketch5" against normal blind 10
sketch "Sketch6" plane through (0, 10, 0) normal (0, 1, 0) x (1, 0, 0)
  circle A0 centre (0, 0) radius 50.3115 projected
  circle A1 centre (27.8558, 21.183) radius 2 projected
  circle A2 centre (30, -37.5) radius 2 projected
  circle A3 centre (-30, -37.5) radius 2 projected
  circle A4 centre (-30, 37.5) radius 2 projected
  circle A5 centre (30, 37.5) radius 2 projected
  line L0 (-17.0957, 39.8549) -> (-10.1957, 41.5543) projected
  arc A6 (-7.8043, 31.8444) -> (-10.1957, 41.5543) centre (-9, 36.6994) ccw projected
  line L1 (-7.8043, 31.8444) -> (-14.7043, 30.1451) projected
  arc A7 (-17.0957, 39.8549) -> (-14.7043, 30.1451) centre (-15.9, 35) ccw projected
  line L2 (-14.7043, -30.1451) -> (-7.8043, -31.8444) projected
  arc A8 (-10.1957, -41.5543) -> (-7.8043, -31.8444) centre (-9, -36.6994) ccw projected
  line L3 (-10.1957, -41.5543) -> (-17.0957, -39.8549) projected
  arc A9 (-14.7043, -30.1451) -> (-17.0957, -39.8549) centre (-15.9, -35) ccw projected
  circle A10 centre (-15.9, 16) radius 5 projected
  circle A11 centre (-15.9, -16) radius 5 projected
  circle A12 centre (39.8115, 7.366) radius 4.25 projected
  circle A13 centre (-39.8115, 7.366) radius 4.25 projected
  circle A14 centre (-39.8115, -7.366) radius 4.25 projected
  circle A15 centre (39.8115, -7.366) radius 4.25 projected
  circle A16 centre (15.9, -16) radius 5 projected
  circle A17 centre (15.9, 16) radius 5 projected
  arc A18 (7.8043, -31.8444) -> (10.1957, -41.5543) centre (9, -36.6994) ccw projected
  line L4 (7.8043, -31.8444) -> (14.7043, -30.1451) projected
  arc A19 (17.0957, -39.8549) -> (14.7043, -30.1451) centre (15.9, -35) ccw projected
  line L5 (17.0957, -39.8549) -> (10.1957, -41.5543) projected
  arc A20 (14.7043, 30.1451) -> (17.0957, 39.8549) centre (15.9, 35) ccw projected
  line L6 (14.7043, 30.1451) -> (7.8043, 31.8444) projected
  arc A21 (10.1957, 41.5543) -> (7.8043, 31.8444) centre (9, 36.6994) ccw projected
  line L7 (10.1957, 41.5543) -> (17.0957, 39.8549) projected
  circle A22 centre (0, 5) radius 2.5 projected
  circle A23 centre (0, -5) radius 2.5 projected
  circle A24 centre (-36.0988, -26.0613) radius 2 projected
  circle A25 centre (-36.0988, 26.0613) radius 2 projected
  circle A26 centre (27.9275, -33.3262) radius 2 projected
  circle A27 centre (39.8833, -19.5092) radius 2 projected
  circle A28 centre (33.8336, -14.2745) radius 2 projected
  circle A29 centre (27.8558, -21.183) radius 2 projected
  circle A30 centre (33.9054, -26.4177) radius 2 projected
  circle A31 centre (21.8779, -28.0915) radius 2 projected
  circle A32 centre (39.8833, 19.5092) radius 2 projected
  circle A33 centre (33.9054, 26.4177) radius 2 projected
  circle A34 centre (27.9275, 33.3262) radius 2 projected
  circle A35 centre (33.8336, 14.2745) radius 2 projected
  circle A36 centre (21.8779, 28.0915) radius 2 projected
  circle A37 centre (-44.3115, -14.732) radius 2 projected
  circle A38 centre (-44.3115, 14.732) radius 2 projected
  circle A39 centre (27.8558, 21.183) radius 2 projected
  circle A40 centre (24.1058, 8) radius 2 projected
  circle A41 centre (24.1058, -8) radius 2 projected
  circle A42 centre (-24.1058, 8) radius 2 projected
  circle A43 centre (-24.1058, -8) radius 2 projected
  circle A44 centre (-44.3115, 0) radius 2 projected
  circle A45 centre (-38.3115, 0) radius 2 projected
  circle A46 centre (-32.3115, 0) radius 2 projected
  circle A47 centre (0, 44.3115) radius 2 projected
  circle A48 centre (0, 38.3115) radius 2 projected
  circle A49 centre (0, 32.3115) radius 2 projected
  circle A50 centre (44.3115, 0) radius 2 projected
  circle A51 centre (38.3115, 0) radius 2 projected
  circle A52 centre (32.3115, 0) radius 2 projected
  circle A53 centre (0, -44.3115) radius 2 projected
  circle A54 centre (0, -38.3115) radius 2 projected
  circle A55 centre (0, -32.3115) radius 2 projected
  circle A56 centre (-30.7406, 14.8051) radius 1.5 projected
  circle A57 centre (-27.8558, 21.183) radius 1.5 projected
  circle A58 centre (-24.9709, 27.5609) radius 1.5 projected
  circle A59 centre (-24.9709, -27.5609) radius 1.5 projected
  circle A60 centre (-30.7406, -14.8051) radius 1.5 projected
  circle A61 centre (-27.8558, -21.183) radius 1.5 projected
  circle A62 centre (0, 0) radius 50.3115 projected
  circle A63 centre (0, 0) radius 53
  dimension "d115" = 106
extrude "Extrusion6" add sketch "Sketch6" against normal blind 10 contours A1 | A26 | A27 | A28 | A29 | A30 | A31 | A32 | A33 | A34 | A35 | A36 | A63
sketch "Sketch8" plane through (0, 0, 0) normal (0, -1, 0) x (1, 0, 0)
  circle A0 centre (30, -37.5) radius 2 projected
  circle A1 centre (30, -37.5) radius 4.25
  circle A2 centre (30, 37.5) radius 2 projected
  circle A3 centre (30, 37.5) radius 4.25
  circle A4 centre (-30, 37.5) radius 2 projected
  circle A5 centre (-30, 37.5) radius 4.25
  circle A6 centre (-30, -37.5) radius 2 projected
  circle A7 centre (-30, -37.5) radius 4.25
  point P0 (0, 0)
  dimension "d118" = 8.5
  dimension "d119" = 8.5
  dimension "d120" = 8.5
  dimension "d121" = 8.5
extrude "Extrusion7" cut sketch "Sketch8" against normal blind 4
properties part number "Modular Chassis"
